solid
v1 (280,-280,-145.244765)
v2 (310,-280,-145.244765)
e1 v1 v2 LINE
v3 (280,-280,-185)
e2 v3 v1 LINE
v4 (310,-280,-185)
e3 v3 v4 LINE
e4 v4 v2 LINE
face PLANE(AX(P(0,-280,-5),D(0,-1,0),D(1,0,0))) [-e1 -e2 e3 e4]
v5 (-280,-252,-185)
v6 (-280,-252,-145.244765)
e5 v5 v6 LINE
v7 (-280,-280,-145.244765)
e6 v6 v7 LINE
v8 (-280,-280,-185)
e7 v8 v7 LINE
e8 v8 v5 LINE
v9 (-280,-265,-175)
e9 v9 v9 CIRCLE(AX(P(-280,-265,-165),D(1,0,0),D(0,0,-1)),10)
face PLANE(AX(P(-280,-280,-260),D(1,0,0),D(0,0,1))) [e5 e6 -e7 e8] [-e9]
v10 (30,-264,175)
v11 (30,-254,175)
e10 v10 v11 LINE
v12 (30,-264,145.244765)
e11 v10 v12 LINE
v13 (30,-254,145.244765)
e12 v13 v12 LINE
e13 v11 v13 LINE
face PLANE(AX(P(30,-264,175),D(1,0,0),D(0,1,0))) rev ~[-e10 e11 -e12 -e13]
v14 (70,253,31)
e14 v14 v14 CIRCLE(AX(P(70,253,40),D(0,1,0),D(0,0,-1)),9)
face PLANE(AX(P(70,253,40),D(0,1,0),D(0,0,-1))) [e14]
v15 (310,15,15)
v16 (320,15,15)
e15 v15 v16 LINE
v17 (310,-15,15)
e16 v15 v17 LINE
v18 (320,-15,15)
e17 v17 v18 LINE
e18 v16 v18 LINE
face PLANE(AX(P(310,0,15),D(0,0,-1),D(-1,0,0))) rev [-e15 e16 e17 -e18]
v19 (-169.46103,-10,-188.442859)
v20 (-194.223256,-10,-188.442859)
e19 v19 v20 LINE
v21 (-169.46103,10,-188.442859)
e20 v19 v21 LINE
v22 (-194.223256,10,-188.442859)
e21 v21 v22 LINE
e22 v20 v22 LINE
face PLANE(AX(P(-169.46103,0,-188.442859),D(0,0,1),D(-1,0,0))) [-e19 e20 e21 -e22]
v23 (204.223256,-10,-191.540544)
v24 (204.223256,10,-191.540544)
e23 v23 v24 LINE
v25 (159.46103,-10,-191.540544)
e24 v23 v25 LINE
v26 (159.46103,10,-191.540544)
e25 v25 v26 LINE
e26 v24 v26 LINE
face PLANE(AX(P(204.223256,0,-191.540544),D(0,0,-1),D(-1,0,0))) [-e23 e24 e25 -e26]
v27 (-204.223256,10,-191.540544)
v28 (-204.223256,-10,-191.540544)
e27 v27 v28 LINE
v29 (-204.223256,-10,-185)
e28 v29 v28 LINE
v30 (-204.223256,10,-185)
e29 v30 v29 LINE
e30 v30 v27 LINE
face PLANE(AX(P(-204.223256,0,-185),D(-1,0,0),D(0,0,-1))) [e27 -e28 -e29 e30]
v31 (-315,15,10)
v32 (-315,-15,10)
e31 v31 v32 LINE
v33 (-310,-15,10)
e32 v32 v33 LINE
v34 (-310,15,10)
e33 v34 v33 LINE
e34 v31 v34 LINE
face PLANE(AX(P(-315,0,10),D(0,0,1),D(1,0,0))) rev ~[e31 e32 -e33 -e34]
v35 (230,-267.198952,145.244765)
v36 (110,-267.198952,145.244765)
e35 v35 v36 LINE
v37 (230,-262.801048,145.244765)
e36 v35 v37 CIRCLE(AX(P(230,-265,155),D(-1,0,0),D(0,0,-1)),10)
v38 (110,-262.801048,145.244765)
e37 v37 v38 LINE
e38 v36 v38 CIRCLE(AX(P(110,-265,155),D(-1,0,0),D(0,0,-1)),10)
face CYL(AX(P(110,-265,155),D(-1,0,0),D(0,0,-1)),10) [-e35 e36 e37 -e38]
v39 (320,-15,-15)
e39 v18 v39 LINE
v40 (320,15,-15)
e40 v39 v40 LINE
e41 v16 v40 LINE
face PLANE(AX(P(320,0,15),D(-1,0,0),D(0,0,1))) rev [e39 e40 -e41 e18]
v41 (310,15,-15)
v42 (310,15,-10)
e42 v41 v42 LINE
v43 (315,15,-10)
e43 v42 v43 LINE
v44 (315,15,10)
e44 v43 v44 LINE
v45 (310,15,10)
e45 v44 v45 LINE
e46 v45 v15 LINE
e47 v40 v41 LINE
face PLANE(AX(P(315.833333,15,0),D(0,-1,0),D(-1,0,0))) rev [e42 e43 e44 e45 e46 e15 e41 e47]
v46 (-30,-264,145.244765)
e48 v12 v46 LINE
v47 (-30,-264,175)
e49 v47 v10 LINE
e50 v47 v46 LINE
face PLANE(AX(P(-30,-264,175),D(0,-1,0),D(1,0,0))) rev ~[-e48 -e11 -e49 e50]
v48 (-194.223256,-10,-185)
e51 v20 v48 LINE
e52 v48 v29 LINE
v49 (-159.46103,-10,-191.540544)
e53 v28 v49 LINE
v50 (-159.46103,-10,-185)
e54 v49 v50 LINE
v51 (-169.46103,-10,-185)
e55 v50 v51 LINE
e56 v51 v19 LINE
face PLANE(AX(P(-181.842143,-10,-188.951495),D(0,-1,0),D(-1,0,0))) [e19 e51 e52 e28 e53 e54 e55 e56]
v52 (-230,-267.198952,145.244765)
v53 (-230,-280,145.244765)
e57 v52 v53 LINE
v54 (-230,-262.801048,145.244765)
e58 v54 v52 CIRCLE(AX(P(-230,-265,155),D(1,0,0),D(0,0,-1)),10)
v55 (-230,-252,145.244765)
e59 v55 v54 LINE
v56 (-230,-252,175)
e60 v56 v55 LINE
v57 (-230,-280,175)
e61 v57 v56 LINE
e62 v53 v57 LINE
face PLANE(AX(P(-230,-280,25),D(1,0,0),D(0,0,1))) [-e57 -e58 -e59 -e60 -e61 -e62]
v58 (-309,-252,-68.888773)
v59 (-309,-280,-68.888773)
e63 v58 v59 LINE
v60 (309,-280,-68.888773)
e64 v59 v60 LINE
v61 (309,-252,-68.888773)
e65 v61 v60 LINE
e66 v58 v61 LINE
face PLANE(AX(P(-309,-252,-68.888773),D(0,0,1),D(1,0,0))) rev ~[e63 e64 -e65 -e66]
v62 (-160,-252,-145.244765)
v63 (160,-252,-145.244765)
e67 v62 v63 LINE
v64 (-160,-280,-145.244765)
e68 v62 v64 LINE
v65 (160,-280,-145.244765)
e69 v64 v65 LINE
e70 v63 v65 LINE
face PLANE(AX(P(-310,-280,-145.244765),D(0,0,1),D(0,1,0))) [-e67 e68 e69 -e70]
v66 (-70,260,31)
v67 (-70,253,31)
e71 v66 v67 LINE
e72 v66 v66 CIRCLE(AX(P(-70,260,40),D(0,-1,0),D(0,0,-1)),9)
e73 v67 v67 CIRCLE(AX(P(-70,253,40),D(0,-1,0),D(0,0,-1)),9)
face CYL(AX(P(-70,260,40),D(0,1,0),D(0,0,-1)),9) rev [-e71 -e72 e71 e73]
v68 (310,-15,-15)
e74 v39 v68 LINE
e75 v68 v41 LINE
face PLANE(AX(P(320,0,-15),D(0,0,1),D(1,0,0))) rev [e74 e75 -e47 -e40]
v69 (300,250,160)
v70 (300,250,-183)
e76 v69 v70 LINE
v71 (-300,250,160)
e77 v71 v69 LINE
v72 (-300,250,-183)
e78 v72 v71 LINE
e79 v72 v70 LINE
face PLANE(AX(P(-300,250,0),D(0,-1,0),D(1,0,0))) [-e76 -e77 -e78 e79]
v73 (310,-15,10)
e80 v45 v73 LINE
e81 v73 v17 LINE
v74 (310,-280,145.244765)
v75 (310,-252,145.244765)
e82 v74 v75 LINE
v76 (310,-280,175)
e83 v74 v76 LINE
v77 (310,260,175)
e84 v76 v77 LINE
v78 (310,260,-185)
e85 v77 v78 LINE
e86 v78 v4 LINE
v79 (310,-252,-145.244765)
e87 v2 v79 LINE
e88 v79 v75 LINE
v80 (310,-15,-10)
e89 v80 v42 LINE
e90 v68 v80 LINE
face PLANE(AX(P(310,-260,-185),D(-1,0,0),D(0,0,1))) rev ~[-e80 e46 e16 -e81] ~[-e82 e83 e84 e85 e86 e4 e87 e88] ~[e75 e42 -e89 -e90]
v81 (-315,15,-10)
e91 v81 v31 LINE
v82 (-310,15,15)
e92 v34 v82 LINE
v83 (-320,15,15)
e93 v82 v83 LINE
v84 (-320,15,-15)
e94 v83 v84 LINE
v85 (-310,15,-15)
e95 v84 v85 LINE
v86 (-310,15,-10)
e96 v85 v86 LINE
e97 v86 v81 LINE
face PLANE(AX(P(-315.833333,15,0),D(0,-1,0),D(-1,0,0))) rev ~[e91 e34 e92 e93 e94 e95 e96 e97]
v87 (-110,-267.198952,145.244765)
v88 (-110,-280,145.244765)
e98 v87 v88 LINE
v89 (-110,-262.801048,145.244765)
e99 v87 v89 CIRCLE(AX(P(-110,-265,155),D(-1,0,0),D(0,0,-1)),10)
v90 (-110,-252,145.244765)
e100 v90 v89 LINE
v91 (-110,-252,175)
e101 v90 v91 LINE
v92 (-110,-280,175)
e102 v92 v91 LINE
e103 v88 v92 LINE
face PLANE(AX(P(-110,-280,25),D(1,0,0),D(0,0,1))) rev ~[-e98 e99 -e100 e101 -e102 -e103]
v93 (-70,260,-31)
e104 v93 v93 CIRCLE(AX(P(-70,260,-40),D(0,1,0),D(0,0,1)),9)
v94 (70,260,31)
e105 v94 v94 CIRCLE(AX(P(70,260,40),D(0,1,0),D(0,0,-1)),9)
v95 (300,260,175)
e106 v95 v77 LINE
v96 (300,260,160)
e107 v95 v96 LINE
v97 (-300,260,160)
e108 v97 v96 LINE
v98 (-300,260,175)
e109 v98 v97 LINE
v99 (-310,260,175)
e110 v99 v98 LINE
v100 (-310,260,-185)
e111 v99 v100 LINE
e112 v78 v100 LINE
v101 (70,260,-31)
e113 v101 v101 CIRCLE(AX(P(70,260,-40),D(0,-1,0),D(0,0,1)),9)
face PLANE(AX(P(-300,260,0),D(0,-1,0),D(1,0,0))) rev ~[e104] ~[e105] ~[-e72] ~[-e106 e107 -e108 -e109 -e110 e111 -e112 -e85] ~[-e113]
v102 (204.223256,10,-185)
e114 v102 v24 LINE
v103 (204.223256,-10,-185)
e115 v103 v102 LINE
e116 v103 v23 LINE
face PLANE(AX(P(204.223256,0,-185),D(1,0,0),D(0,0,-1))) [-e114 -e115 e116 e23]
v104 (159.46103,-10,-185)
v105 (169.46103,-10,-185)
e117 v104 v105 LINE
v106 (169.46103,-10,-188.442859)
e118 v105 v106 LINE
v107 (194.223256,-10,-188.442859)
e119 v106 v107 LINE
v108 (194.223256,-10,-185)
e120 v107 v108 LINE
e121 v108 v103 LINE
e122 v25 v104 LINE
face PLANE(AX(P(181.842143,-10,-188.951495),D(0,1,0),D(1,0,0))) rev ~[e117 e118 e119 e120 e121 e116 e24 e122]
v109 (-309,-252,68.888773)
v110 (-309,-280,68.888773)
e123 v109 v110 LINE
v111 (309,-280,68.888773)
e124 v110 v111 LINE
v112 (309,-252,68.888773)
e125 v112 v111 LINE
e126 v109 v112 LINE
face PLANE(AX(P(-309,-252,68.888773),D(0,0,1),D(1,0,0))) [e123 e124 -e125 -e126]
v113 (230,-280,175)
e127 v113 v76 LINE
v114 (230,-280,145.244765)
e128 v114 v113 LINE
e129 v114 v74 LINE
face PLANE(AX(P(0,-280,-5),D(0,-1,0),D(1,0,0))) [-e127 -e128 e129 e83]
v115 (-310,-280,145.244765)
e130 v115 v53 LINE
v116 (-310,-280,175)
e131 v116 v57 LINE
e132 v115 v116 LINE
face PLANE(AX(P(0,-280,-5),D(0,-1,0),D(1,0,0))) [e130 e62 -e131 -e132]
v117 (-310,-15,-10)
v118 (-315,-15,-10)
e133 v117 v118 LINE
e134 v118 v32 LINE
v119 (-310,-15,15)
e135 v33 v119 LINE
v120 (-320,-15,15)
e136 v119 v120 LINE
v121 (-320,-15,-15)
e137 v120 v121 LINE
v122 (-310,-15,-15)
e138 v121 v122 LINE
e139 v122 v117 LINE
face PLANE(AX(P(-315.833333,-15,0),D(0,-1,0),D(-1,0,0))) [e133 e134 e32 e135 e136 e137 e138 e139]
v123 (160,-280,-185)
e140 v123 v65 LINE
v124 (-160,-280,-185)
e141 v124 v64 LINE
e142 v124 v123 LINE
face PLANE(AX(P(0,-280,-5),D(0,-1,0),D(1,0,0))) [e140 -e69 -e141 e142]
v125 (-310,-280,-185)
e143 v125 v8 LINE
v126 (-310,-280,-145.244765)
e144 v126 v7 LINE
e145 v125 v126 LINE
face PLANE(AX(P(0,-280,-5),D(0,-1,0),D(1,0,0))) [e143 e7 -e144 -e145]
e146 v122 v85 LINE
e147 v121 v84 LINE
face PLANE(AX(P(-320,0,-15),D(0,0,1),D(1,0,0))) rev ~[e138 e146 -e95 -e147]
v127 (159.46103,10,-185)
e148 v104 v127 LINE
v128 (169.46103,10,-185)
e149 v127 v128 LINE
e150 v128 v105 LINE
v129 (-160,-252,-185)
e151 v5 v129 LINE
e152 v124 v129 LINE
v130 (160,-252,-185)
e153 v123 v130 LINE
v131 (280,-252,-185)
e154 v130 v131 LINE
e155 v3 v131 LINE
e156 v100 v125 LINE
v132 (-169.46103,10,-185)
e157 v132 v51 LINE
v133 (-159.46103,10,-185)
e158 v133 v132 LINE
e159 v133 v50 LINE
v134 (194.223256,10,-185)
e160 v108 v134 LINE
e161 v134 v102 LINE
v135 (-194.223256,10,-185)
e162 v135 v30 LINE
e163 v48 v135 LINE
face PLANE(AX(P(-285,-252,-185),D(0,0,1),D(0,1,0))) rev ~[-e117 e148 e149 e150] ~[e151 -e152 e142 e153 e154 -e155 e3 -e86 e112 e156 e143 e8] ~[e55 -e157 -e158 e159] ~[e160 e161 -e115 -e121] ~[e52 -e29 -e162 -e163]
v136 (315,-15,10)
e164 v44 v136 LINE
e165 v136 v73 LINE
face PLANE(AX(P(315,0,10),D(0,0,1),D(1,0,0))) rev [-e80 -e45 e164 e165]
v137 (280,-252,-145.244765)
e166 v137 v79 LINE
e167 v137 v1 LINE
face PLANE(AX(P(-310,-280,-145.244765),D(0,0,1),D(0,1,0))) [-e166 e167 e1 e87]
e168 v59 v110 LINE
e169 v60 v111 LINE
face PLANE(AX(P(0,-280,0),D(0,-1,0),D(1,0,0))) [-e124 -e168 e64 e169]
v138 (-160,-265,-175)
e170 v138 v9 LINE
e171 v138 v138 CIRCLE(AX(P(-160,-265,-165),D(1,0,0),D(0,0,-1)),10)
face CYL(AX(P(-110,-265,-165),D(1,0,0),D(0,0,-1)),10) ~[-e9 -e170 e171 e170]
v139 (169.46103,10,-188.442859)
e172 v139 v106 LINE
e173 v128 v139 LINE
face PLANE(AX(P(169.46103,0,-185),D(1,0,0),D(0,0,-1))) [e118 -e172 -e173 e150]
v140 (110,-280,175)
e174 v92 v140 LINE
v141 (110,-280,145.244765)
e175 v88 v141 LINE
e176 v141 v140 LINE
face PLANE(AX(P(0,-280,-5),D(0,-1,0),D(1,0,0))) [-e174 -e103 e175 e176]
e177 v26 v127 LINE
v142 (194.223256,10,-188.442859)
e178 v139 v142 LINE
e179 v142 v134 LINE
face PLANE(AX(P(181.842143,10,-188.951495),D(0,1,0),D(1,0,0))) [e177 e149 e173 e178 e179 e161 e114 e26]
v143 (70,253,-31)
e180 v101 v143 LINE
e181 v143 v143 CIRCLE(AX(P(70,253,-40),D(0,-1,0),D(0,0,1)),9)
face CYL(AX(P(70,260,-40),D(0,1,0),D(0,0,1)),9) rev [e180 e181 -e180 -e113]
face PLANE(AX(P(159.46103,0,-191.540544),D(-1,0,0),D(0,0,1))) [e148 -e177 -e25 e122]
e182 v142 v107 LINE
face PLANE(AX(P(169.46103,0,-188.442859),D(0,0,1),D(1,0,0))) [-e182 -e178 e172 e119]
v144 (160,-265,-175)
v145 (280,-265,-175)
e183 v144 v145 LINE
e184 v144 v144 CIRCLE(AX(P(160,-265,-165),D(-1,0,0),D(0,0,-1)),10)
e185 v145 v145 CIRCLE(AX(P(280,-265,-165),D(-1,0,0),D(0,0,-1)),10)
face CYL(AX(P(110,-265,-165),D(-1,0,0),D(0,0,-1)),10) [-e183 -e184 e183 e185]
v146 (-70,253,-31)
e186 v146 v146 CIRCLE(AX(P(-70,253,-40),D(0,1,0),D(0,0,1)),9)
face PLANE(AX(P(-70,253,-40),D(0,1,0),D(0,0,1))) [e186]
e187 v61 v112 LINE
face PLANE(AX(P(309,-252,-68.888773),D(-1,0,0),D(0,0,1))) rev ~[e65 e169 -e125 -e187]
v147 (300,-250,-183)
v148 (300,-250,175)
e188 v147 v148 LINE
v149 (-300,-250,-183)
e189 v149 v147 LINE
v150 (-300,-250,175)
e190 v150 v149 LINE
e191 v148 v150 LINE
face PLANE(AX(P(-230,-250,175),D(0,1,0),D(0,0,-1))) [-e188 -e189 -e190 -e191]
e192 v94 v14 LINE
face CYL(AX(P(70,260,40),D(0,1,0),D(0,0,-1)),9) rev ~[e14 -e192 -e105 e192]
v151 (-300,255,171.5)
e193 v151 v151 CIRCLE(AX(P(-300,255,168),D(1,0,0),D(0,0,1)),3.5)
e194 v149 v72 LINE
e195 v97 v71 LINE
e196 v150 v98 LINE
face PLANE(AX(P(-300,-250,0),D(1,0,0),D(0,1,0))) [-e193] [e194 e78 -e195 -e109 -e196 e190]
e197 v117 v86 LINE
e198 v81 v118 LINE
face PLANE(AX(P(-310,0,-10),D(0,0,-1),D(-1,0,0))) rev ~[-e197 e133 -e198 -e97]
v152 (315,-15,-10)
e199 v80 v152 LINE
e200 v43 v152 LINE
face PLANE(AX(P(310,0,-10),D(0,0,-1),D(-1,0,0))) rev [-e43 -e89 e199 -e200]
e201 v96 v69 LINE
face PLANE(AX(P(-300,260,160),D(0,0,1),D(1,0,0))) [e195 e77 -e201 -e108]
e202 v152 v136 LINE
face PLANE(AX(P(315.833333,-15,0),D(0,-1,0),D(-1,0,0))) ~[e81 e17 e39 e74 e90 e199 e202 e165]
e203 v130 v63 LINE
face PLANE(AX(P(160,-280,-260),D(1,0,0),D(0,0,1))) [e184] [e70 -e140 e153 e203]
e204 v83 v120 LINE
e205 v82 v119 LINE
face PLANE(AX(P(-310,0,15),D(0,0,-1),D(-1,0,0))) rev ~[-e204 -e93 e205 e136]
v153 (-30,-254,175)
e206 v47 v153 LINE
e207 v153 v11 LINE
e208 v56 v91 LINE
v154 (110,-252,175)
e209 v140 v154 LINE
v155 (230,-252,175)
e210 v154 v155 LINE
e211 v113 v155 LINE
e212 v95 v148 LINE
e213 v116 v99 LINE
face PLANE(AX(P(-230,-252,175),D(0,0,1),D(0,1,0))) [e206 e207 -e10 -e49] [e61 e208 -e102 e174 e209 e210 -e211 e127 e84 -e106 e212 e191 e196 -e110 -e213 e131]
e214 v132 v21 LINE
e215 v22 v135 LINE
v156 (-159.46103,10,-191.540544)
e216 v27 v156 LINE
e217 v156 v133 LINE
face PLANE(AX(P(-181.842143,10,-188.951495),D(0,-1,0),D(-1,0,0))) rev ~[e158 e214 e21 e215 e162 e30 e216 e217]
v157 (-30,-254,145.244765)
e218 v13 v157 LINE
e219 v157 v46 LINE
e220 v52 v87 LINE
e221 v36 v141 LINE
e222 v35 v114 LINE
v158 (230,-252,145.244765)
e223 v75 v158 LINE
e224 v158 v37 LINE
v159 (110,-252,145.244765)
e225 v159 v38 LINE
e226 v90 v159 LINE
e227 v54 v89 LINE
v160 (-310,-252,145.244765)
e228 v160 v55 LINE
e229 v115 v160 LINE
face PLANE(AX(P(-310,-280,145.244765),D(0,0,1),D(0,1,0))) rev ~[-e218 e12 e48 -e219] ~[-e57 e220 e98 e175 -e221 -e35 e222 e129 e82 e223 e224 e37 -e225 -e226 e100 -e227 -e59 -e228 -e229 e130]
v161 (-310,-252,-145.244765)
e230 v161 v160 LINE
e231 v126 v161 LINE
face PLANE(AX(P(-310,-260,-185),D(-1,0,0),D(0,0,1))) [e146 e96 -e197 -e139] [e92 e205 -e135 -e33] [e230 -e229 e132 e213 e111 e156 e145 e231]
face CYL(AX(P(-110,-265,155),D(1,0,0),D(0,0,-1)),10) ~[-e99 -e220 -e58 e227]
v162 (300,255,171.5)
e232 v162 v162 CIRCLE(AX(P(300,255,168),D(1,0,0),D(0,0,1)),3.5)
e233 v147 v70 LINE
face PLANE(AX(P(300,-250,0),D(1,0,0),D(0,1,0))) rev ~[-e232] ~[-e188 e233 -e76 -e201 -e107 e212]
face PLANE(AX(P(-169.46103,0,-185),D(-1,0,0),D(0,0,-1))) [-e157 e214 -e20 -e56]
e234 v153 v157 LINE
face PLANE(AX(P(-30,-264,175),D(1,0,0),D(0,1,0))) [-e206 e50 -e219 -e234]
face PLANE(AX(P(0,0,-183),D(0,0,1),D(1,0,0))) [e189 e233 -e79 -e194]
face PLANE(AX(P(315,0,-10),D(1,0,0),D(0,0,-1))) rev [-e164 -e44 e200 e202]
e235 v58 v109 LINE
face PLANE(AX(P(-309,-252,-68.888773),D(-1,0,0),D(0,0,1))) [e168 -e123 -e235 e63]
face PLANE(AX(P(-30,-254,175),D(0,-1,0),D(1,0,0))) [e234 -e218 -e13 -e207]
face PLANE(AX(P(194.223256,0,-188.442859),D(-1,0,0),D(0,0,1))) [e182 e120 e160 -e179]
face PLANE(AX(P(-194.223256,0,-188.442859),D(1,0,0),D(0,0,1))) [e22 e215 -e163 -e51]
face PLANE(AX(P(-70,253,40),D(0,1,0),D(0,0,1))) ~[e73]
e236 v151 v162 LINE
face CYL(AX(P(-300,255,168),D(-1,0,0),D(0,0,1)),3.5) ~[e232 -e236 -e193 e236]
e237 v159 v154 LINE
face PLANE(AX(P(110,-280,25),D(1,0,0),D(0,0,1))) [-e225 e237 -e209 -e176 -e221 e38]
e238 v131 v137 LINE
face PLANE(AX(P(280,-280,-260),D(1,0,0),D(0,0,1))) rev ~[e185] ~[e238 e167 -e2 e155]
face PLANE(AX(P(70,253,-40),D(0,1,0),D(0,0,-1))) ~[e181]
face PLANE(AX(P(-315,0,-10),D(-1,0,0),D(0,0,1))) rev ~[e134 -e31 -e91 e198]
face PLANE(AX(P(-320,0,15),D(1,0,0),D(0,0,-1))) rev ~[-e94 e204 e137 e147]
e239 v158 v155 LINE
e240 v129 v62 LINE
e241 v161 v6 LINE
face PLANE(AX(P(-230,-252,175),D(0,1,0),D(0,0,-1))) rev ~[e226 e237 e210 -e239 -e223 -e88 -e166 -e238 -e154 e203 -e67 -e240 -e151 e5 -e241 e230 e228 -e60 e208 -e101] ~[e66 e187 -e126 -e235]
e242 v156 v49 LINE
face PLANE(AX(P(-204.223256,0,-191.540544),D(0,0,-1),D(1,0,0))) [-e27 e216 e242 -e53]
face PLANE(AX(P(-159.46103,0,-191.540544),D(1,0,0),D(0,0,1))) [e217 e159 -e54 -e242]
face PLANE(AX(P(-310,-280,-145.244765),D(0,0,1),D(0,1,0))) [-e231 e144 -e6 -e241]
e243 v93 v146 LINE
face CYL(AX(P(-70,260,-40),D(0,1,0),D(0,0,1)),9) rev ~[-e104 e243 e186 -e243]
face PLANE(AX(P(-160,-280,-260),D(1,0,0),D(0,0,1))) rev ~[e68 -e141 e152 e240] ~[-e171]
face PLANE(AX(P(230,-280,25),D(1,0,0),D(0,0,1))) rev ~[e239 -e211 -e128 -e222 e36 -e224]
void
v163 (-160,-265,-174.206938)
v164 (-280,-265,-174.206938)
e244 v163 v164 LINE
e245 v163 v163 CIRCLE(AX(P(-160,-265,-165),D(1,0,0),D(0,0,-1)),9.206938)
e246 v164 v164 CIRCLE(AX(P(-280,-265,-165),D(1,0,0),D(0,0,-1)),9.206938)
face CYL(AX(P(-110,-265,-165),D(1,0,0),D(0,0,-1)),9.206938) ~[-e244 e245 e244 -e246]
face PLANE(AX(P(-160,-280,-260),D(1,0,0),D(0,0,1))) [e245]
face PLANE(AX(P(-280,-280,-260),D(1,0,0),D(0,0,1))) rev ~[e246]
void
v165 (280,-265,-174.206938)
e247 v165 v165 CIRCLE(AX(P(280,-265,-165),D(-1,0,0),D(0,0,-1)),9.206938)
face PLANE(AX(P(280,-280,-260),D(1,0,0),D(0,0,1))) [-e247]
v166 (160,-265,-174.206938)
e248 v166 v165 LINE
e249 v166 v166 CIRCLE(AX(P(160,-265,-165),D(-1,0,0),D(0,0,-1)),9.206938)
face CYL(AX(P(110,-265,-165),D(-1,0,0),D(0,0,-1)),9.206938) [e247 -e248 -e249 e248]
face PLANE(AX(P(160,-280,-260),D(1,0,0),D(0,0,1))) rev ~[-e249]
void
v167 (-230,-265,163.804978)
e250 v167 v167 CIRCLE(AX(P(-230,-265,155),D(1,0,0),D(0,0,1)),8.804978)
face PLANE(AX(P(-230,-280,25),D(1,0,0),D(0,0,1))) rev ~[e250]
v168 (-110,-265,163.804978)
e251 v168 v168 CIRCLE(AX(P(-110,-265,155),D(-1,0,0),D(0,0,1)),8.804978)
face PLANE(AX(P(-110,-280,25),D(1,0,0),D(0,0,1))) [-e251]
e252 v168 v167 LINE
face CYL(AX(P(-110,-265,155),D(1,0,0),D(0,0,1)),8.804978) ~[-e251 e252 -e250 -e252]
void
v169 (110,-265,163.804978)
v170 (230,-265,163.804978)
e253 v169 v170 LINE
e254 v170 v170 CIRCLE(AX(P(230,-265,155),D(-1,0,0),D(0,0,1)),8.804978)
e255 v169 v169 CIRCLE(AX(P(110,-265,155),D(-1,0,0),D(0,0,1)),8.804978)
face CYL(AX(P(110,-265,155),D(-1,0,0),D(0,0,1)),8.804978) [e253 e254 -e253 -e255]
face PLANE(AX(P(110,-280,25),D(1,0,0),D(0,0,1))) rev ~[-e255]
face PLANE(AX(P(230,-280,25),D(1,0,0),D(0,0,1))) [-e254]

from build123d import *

# Parameters (mm, degrees)
SKETCH1_W                                  = 600
SKETCH1_H                                  = 500
BOSS_EXTRUDE1_DEPTH                        = 175
SHELL1_T                                   = 10
SKETCH3_W                                  = 620
SKETCH3_H                                  = 360
BOSS_EXTRUDE2_DEPTH                        = 20
SKETCH5_W                                  = 120
SKETCH5_H                                  = 150
CUT_EXTRUDE1_DEPTH                         = 50
BOSS_EXTRUDE3_DEPTH                        = 15
SKETCH9_R                                  = 10
SKETCH9_R_2                                = 8.804977656
SKETCH9_R_3                                = 9.206937975
BOSS_EXTRUDE4_DEPTH                        = 180
BOSS_EXTRUDE8_START                        = -260
BOSS_EXTRUDE8_DEPTH                        = 10
SKETCH147_W                                = 600
SKETCH147_H                                = 15
CUT_EXTRUDE2_DEPTH                         = 10
SKETCH148_R                                = 3.5
BOSS_EXTRUDE10_DEPTH                       = 600
SKETCH149_R                                = 9
CUT_EXTRUDE3_DEPTH                         = 7
MIRROR3_AT_THE_SECOND_PLANE_COPY_1_SKETC_R = 9
MIRROR3_AT_THE_SECOND_PLANE_COPY_1_DEPTH   = 7
SKETCH150_W                                = 60
SKETCH150_H                                = 10
CUT_EXTRUDE4_DEPTH                         = 30
SKETCH155_W                                = 290.489530142
SKETCH155_H                                = 28
CUT_EXTRUDE11_DEPTH                        = 716.53321378
BOSS_EXTRUDE11_DEPTH                       = 488
BOSS_EXTRUDE12_DEPTH                       = 125
BOSS_EXTRUDE12_DEPTH_BACK                  = 445
SKETCH160_W                                = 600
SKETCH160_H                                = 500
CUT_EXTRUDE12_DEPTH                        = 8
SKETCH161_W                                = 618
SKETCH161_H                                = 137.7775458
BOSS_EXTRUDE13_DEPTH                       = 28


with BuildPart() as part:
    # Sketch1 → Boss-Extrude1 (new, symmetric)
    with BuildSketch(Plane.XY):
        Rectangle(SKETCH1_W, SKETCH1_H)
    extrude(amount=BOSS_EXTRUDE1_DEPTH, both=True)

    # Shell1
    shell1_openings = [part.faces().sort_by_distance(p)[0] for p in [
        (0, 0, 175),
    ]]
    offset(amount=SHELL1_T, openings=shell1_openings, kind=Kind.INTERSECTION)

    # Sketch3 → Boss-Extrude2 (add)
    with BuildSketch(Plane.XZ.offset(260)):
        with Locations((0, -5)):
            Rectangle(SKETCH3_W, SKETCH3_H)
    extrude(amount=BOSS_EXTRUDE2_DEPTH)

    # Sketch5 → Cut-Extrude1 (cut)
    with BuildSketch(Plane.XZ.offset(280)):
        with Locations((-170, 100)):
            Rectangle(SKETCH5_W, SKETCH5_H)
        with Locations((170, 100)):
            Rectangle(SKETCH5_W, SKETCH5_H)
        with Locations((-220, -185)):
            Rectangle(SKETCH5_W, SKETCH5_H)
        with Locations((220, -185)):
            Rectangle(SKETCH5_W, SKETCH5_H)
    extrude(amount=-CUT_EXTRUDE1_DEPTH, mode=Mode.SUBTRACT)

    # Sketch8 → Boss-Extrude3 (add, symmetric)
    with BuildSketch(Plane(origin=(0, 0, 0), x_dir=(1, 0, 0), z_dir=(0, 1, 0))):
        Polygon((-310, 10), (-315, 10), (-315, -10), (-310, -10), (-310, -15), (-320, -15), (-320, 15), (-310, 15), align=None)
    boss_extrude3 = extrude(amount=BOSS_EXTRUDE3_DEPTH, both=True)

    # Sketch9 → Boss-Extrude4 (add)
    # profile 1 of 2: a face of its own
    with BuildSketch(Plane.ZY.offset(110)):
        with Locations(Location((155, -265, 0), (0, 0, 180))):
            Circle(SKETCH9_R)
        with Locations((155, -265)):
            Circle(SKETCH9_R_2, mode=Mode.SUBTRACT)
    # profile 2 of 2: a face of its own
    with BuildSketch(Plane.ZY.offset(110)):
        with Locations(Location((-165, -265, 0), (0, 0, 180))):
            Circle(SKETCH9_R)
        with Locations(Location((-165, -265, 0), (0, 0, 180))):
            Circle(SKETCH9_R_3, mode=Mode.SUBTRACT)
    boss_extrude4 = extrude(amount=BOSS_EXTRUDE4_DEPTH)

    # Mirror1: Boss-Extrude3, Boss-Extrude4 across plane
    add(boss_extrude3.mirror(Plane(origin=(0, 0, 0), x_dir=(0, 0, 1), z_dir=(1, 0, 0))))
    add(boss_extrude4.mirror(Plane(origin=(0, 0, 0), x_dir=(0, 0, 1), z_dir=(1, 0, 0))))

    # Sketch17 → Boss-Extrude8 (add, symmetric)
    with BuildSketch(Plane(origin=(0, 260, 0), x_dir=(1, 0, 0), z_dir=(0, 1, 0)).offset(BOSS_EXTRUDE8_START)):
        Polygon((-194.223256177, 185), (-204.223256177, 185), (-204.223256177, 191.540544069), (-159.461030104, 191.540544069), (-159.461030104, 185), (-169.461030104, 185), (-169.461030104, 188.442858537), (-194.223256177, 188.442858537), align=None)
        Polygon((194.223256177, 188.442858537), (194.223256177, 185), (204.223256177, 185), (204.223256177, 191.540544069), (159.461030104, 191.540544069), (159.461030104, 185), (169.461030104, 185), (169.461030104, 188.442858537), align=None)
    extrude(amount=BOSS_EXTRUDE8_DEPTH, both=True)

    # Sketch147 → Cut-Extrude2 (cut)
    with BuildSketch(Plane(origin=(0, 260, 0), x_dir=(1, 0, 0), z_dir=(0, 1, 0))):
        with Locations((0, -167.5)):
            Rectangle(SKETCH147_W, SKETCH147_H)
    extrude(amount=-CUT_EXTRUDE2_DEPTH, mode=Mode.SUBTRACT)

    # Sketch148 → Boss-Extrude10 (add)
    with BuildSketch(Plane(origin=(-300, 0, 0), x_dir=(0, 0, -1), z_dir=(1, 0, 0))):
        with Locations(Location((-168, 255, 0), (0, 0, 180))):
            Circle(SKETCH148_R)
    extrude(amount=BOSS_EXTRUDE10_DEPTH)

    # Sketch149 → Cut-Extrude3 (cut)
    with BuildSketch(Plane(origin=(0, 260, 0), x_dir=(1, 0, 0), z_dir=(0, 1, 0))):
        with Locations(Location((-70, 40, 0), (0, 0, 270))):
            Circle(SKETCH149_R)
    cut_extrude3 = extrude(amount=-CUT_EXTRUDE3_DEPTH, mode=Mode.SUBTRACT)

    # Mirror3: Cut-Extrude3 across plane
    add(cut_extrude3.mirror(Plane.XY), mode=Mode.SUBTRACT)

    # Mirror3 at the second plane: Cut-Extrude3 across plane
    add(cut_extrude3.mirror(Plane(origin=(0, 0, 0), x_dir=(0, 0, 1), z_dir=(1, 0, 0))), mode=Mode.SUBTRACT)

    # Mirror3 at the second plane copy 1 sketc → Mirror3 at the second plane copy 1 (cut)
    with BuildSketch(Plane(origin=(0, 260, 0), x_dir=(-1, 0, 0), z_dir=(0, 1, 0))):
        with Locations(Location((-70, 40, 0), (0, 0, 270))):
            Circle(MIRROR3_AT_THE_SECOND_PLANE_COPY_1_SKETC_R)
    extrude(amount=-MIRROR3_AT_THE_SECOND_PLANE_COPY_1_DEPTH, mode=Mode.SUBTRACT)

    # Sketch150 → Cut-Extrude4 (cut)
    with BuildSketch(Plane.XY.offset(175)):
        with Locations((0, -259)):
            Rectangle(SKETCH150_W, SKETCH150_H)
    extrude(amount=-CUT_EXTRUDE4_DEPTH, mode=Mode.SUBTRACT)

    # Sketch155 → Cut-Extrude11 (cut, through all)
    with BuildSketch(Plane.ZY.offset(310)):
        with Locations((0, -266)):
            Rectangle(SKETCH155_W, SKETCH155_H)
    extrude(amount=-CUT_EXTRUDE11_DEPTH, mode=Mode.SUBTRACT)

    # Sketch157 → Boss-Extrude11 (add)
    with BuildSketch(Plane(origin=(-230, 0, 0), x_dir=(0, 0, -1), z_dir=(1, 0, 0))):
        Polygon((-145.244765071, -252), (-175, -252), (-175, -250), (-25, -250), (-25, -252), align=None)
    extrude(amount=BOSS_EXTRUDE11_DEPTH)

    # Sketch159 → Boss-Extrude12 (add, two sides: drawn at the far end of the back side and taken through both)
    with BuildSketch(Plane(origin=(160, 0, 0), x_dir=(0, 0, -1), z_dir=(1, 0, 0)).offset(-BOSS_EXTRUDE12_DEPTH_BACK)):
        Polygon((145.244765071, -252), (185, -252), (185, -230), (175, -230), (175, -250), (110, -250), (110, -252), align=None)
    extrude(amount=BOSS_EXTRUDE12_DEPTH + BOSS_EXTRUDE12_DEPTH_BACK)

    # Sketch160 → Cut-Extrude12 (cut)
    with BuildSketch(Plane.XY.offset(-175)):
        Rectangle(SKETCH160_W, SKETCH160_H)
    extrude(amount=-CUT_EXTRUDE12_DEPTH, mode=Mode.SUBTRACT)

    # Sketch161 → Boss-Extrude13 (add)
    with BuildSketch(Plane.XZ.offset(252)):
        Rectangle(SKETCH161_W, SKETCH161_H)
    extrude(amount=BOSS_EXTRUDE13_DEPTH)


solid = part.part
